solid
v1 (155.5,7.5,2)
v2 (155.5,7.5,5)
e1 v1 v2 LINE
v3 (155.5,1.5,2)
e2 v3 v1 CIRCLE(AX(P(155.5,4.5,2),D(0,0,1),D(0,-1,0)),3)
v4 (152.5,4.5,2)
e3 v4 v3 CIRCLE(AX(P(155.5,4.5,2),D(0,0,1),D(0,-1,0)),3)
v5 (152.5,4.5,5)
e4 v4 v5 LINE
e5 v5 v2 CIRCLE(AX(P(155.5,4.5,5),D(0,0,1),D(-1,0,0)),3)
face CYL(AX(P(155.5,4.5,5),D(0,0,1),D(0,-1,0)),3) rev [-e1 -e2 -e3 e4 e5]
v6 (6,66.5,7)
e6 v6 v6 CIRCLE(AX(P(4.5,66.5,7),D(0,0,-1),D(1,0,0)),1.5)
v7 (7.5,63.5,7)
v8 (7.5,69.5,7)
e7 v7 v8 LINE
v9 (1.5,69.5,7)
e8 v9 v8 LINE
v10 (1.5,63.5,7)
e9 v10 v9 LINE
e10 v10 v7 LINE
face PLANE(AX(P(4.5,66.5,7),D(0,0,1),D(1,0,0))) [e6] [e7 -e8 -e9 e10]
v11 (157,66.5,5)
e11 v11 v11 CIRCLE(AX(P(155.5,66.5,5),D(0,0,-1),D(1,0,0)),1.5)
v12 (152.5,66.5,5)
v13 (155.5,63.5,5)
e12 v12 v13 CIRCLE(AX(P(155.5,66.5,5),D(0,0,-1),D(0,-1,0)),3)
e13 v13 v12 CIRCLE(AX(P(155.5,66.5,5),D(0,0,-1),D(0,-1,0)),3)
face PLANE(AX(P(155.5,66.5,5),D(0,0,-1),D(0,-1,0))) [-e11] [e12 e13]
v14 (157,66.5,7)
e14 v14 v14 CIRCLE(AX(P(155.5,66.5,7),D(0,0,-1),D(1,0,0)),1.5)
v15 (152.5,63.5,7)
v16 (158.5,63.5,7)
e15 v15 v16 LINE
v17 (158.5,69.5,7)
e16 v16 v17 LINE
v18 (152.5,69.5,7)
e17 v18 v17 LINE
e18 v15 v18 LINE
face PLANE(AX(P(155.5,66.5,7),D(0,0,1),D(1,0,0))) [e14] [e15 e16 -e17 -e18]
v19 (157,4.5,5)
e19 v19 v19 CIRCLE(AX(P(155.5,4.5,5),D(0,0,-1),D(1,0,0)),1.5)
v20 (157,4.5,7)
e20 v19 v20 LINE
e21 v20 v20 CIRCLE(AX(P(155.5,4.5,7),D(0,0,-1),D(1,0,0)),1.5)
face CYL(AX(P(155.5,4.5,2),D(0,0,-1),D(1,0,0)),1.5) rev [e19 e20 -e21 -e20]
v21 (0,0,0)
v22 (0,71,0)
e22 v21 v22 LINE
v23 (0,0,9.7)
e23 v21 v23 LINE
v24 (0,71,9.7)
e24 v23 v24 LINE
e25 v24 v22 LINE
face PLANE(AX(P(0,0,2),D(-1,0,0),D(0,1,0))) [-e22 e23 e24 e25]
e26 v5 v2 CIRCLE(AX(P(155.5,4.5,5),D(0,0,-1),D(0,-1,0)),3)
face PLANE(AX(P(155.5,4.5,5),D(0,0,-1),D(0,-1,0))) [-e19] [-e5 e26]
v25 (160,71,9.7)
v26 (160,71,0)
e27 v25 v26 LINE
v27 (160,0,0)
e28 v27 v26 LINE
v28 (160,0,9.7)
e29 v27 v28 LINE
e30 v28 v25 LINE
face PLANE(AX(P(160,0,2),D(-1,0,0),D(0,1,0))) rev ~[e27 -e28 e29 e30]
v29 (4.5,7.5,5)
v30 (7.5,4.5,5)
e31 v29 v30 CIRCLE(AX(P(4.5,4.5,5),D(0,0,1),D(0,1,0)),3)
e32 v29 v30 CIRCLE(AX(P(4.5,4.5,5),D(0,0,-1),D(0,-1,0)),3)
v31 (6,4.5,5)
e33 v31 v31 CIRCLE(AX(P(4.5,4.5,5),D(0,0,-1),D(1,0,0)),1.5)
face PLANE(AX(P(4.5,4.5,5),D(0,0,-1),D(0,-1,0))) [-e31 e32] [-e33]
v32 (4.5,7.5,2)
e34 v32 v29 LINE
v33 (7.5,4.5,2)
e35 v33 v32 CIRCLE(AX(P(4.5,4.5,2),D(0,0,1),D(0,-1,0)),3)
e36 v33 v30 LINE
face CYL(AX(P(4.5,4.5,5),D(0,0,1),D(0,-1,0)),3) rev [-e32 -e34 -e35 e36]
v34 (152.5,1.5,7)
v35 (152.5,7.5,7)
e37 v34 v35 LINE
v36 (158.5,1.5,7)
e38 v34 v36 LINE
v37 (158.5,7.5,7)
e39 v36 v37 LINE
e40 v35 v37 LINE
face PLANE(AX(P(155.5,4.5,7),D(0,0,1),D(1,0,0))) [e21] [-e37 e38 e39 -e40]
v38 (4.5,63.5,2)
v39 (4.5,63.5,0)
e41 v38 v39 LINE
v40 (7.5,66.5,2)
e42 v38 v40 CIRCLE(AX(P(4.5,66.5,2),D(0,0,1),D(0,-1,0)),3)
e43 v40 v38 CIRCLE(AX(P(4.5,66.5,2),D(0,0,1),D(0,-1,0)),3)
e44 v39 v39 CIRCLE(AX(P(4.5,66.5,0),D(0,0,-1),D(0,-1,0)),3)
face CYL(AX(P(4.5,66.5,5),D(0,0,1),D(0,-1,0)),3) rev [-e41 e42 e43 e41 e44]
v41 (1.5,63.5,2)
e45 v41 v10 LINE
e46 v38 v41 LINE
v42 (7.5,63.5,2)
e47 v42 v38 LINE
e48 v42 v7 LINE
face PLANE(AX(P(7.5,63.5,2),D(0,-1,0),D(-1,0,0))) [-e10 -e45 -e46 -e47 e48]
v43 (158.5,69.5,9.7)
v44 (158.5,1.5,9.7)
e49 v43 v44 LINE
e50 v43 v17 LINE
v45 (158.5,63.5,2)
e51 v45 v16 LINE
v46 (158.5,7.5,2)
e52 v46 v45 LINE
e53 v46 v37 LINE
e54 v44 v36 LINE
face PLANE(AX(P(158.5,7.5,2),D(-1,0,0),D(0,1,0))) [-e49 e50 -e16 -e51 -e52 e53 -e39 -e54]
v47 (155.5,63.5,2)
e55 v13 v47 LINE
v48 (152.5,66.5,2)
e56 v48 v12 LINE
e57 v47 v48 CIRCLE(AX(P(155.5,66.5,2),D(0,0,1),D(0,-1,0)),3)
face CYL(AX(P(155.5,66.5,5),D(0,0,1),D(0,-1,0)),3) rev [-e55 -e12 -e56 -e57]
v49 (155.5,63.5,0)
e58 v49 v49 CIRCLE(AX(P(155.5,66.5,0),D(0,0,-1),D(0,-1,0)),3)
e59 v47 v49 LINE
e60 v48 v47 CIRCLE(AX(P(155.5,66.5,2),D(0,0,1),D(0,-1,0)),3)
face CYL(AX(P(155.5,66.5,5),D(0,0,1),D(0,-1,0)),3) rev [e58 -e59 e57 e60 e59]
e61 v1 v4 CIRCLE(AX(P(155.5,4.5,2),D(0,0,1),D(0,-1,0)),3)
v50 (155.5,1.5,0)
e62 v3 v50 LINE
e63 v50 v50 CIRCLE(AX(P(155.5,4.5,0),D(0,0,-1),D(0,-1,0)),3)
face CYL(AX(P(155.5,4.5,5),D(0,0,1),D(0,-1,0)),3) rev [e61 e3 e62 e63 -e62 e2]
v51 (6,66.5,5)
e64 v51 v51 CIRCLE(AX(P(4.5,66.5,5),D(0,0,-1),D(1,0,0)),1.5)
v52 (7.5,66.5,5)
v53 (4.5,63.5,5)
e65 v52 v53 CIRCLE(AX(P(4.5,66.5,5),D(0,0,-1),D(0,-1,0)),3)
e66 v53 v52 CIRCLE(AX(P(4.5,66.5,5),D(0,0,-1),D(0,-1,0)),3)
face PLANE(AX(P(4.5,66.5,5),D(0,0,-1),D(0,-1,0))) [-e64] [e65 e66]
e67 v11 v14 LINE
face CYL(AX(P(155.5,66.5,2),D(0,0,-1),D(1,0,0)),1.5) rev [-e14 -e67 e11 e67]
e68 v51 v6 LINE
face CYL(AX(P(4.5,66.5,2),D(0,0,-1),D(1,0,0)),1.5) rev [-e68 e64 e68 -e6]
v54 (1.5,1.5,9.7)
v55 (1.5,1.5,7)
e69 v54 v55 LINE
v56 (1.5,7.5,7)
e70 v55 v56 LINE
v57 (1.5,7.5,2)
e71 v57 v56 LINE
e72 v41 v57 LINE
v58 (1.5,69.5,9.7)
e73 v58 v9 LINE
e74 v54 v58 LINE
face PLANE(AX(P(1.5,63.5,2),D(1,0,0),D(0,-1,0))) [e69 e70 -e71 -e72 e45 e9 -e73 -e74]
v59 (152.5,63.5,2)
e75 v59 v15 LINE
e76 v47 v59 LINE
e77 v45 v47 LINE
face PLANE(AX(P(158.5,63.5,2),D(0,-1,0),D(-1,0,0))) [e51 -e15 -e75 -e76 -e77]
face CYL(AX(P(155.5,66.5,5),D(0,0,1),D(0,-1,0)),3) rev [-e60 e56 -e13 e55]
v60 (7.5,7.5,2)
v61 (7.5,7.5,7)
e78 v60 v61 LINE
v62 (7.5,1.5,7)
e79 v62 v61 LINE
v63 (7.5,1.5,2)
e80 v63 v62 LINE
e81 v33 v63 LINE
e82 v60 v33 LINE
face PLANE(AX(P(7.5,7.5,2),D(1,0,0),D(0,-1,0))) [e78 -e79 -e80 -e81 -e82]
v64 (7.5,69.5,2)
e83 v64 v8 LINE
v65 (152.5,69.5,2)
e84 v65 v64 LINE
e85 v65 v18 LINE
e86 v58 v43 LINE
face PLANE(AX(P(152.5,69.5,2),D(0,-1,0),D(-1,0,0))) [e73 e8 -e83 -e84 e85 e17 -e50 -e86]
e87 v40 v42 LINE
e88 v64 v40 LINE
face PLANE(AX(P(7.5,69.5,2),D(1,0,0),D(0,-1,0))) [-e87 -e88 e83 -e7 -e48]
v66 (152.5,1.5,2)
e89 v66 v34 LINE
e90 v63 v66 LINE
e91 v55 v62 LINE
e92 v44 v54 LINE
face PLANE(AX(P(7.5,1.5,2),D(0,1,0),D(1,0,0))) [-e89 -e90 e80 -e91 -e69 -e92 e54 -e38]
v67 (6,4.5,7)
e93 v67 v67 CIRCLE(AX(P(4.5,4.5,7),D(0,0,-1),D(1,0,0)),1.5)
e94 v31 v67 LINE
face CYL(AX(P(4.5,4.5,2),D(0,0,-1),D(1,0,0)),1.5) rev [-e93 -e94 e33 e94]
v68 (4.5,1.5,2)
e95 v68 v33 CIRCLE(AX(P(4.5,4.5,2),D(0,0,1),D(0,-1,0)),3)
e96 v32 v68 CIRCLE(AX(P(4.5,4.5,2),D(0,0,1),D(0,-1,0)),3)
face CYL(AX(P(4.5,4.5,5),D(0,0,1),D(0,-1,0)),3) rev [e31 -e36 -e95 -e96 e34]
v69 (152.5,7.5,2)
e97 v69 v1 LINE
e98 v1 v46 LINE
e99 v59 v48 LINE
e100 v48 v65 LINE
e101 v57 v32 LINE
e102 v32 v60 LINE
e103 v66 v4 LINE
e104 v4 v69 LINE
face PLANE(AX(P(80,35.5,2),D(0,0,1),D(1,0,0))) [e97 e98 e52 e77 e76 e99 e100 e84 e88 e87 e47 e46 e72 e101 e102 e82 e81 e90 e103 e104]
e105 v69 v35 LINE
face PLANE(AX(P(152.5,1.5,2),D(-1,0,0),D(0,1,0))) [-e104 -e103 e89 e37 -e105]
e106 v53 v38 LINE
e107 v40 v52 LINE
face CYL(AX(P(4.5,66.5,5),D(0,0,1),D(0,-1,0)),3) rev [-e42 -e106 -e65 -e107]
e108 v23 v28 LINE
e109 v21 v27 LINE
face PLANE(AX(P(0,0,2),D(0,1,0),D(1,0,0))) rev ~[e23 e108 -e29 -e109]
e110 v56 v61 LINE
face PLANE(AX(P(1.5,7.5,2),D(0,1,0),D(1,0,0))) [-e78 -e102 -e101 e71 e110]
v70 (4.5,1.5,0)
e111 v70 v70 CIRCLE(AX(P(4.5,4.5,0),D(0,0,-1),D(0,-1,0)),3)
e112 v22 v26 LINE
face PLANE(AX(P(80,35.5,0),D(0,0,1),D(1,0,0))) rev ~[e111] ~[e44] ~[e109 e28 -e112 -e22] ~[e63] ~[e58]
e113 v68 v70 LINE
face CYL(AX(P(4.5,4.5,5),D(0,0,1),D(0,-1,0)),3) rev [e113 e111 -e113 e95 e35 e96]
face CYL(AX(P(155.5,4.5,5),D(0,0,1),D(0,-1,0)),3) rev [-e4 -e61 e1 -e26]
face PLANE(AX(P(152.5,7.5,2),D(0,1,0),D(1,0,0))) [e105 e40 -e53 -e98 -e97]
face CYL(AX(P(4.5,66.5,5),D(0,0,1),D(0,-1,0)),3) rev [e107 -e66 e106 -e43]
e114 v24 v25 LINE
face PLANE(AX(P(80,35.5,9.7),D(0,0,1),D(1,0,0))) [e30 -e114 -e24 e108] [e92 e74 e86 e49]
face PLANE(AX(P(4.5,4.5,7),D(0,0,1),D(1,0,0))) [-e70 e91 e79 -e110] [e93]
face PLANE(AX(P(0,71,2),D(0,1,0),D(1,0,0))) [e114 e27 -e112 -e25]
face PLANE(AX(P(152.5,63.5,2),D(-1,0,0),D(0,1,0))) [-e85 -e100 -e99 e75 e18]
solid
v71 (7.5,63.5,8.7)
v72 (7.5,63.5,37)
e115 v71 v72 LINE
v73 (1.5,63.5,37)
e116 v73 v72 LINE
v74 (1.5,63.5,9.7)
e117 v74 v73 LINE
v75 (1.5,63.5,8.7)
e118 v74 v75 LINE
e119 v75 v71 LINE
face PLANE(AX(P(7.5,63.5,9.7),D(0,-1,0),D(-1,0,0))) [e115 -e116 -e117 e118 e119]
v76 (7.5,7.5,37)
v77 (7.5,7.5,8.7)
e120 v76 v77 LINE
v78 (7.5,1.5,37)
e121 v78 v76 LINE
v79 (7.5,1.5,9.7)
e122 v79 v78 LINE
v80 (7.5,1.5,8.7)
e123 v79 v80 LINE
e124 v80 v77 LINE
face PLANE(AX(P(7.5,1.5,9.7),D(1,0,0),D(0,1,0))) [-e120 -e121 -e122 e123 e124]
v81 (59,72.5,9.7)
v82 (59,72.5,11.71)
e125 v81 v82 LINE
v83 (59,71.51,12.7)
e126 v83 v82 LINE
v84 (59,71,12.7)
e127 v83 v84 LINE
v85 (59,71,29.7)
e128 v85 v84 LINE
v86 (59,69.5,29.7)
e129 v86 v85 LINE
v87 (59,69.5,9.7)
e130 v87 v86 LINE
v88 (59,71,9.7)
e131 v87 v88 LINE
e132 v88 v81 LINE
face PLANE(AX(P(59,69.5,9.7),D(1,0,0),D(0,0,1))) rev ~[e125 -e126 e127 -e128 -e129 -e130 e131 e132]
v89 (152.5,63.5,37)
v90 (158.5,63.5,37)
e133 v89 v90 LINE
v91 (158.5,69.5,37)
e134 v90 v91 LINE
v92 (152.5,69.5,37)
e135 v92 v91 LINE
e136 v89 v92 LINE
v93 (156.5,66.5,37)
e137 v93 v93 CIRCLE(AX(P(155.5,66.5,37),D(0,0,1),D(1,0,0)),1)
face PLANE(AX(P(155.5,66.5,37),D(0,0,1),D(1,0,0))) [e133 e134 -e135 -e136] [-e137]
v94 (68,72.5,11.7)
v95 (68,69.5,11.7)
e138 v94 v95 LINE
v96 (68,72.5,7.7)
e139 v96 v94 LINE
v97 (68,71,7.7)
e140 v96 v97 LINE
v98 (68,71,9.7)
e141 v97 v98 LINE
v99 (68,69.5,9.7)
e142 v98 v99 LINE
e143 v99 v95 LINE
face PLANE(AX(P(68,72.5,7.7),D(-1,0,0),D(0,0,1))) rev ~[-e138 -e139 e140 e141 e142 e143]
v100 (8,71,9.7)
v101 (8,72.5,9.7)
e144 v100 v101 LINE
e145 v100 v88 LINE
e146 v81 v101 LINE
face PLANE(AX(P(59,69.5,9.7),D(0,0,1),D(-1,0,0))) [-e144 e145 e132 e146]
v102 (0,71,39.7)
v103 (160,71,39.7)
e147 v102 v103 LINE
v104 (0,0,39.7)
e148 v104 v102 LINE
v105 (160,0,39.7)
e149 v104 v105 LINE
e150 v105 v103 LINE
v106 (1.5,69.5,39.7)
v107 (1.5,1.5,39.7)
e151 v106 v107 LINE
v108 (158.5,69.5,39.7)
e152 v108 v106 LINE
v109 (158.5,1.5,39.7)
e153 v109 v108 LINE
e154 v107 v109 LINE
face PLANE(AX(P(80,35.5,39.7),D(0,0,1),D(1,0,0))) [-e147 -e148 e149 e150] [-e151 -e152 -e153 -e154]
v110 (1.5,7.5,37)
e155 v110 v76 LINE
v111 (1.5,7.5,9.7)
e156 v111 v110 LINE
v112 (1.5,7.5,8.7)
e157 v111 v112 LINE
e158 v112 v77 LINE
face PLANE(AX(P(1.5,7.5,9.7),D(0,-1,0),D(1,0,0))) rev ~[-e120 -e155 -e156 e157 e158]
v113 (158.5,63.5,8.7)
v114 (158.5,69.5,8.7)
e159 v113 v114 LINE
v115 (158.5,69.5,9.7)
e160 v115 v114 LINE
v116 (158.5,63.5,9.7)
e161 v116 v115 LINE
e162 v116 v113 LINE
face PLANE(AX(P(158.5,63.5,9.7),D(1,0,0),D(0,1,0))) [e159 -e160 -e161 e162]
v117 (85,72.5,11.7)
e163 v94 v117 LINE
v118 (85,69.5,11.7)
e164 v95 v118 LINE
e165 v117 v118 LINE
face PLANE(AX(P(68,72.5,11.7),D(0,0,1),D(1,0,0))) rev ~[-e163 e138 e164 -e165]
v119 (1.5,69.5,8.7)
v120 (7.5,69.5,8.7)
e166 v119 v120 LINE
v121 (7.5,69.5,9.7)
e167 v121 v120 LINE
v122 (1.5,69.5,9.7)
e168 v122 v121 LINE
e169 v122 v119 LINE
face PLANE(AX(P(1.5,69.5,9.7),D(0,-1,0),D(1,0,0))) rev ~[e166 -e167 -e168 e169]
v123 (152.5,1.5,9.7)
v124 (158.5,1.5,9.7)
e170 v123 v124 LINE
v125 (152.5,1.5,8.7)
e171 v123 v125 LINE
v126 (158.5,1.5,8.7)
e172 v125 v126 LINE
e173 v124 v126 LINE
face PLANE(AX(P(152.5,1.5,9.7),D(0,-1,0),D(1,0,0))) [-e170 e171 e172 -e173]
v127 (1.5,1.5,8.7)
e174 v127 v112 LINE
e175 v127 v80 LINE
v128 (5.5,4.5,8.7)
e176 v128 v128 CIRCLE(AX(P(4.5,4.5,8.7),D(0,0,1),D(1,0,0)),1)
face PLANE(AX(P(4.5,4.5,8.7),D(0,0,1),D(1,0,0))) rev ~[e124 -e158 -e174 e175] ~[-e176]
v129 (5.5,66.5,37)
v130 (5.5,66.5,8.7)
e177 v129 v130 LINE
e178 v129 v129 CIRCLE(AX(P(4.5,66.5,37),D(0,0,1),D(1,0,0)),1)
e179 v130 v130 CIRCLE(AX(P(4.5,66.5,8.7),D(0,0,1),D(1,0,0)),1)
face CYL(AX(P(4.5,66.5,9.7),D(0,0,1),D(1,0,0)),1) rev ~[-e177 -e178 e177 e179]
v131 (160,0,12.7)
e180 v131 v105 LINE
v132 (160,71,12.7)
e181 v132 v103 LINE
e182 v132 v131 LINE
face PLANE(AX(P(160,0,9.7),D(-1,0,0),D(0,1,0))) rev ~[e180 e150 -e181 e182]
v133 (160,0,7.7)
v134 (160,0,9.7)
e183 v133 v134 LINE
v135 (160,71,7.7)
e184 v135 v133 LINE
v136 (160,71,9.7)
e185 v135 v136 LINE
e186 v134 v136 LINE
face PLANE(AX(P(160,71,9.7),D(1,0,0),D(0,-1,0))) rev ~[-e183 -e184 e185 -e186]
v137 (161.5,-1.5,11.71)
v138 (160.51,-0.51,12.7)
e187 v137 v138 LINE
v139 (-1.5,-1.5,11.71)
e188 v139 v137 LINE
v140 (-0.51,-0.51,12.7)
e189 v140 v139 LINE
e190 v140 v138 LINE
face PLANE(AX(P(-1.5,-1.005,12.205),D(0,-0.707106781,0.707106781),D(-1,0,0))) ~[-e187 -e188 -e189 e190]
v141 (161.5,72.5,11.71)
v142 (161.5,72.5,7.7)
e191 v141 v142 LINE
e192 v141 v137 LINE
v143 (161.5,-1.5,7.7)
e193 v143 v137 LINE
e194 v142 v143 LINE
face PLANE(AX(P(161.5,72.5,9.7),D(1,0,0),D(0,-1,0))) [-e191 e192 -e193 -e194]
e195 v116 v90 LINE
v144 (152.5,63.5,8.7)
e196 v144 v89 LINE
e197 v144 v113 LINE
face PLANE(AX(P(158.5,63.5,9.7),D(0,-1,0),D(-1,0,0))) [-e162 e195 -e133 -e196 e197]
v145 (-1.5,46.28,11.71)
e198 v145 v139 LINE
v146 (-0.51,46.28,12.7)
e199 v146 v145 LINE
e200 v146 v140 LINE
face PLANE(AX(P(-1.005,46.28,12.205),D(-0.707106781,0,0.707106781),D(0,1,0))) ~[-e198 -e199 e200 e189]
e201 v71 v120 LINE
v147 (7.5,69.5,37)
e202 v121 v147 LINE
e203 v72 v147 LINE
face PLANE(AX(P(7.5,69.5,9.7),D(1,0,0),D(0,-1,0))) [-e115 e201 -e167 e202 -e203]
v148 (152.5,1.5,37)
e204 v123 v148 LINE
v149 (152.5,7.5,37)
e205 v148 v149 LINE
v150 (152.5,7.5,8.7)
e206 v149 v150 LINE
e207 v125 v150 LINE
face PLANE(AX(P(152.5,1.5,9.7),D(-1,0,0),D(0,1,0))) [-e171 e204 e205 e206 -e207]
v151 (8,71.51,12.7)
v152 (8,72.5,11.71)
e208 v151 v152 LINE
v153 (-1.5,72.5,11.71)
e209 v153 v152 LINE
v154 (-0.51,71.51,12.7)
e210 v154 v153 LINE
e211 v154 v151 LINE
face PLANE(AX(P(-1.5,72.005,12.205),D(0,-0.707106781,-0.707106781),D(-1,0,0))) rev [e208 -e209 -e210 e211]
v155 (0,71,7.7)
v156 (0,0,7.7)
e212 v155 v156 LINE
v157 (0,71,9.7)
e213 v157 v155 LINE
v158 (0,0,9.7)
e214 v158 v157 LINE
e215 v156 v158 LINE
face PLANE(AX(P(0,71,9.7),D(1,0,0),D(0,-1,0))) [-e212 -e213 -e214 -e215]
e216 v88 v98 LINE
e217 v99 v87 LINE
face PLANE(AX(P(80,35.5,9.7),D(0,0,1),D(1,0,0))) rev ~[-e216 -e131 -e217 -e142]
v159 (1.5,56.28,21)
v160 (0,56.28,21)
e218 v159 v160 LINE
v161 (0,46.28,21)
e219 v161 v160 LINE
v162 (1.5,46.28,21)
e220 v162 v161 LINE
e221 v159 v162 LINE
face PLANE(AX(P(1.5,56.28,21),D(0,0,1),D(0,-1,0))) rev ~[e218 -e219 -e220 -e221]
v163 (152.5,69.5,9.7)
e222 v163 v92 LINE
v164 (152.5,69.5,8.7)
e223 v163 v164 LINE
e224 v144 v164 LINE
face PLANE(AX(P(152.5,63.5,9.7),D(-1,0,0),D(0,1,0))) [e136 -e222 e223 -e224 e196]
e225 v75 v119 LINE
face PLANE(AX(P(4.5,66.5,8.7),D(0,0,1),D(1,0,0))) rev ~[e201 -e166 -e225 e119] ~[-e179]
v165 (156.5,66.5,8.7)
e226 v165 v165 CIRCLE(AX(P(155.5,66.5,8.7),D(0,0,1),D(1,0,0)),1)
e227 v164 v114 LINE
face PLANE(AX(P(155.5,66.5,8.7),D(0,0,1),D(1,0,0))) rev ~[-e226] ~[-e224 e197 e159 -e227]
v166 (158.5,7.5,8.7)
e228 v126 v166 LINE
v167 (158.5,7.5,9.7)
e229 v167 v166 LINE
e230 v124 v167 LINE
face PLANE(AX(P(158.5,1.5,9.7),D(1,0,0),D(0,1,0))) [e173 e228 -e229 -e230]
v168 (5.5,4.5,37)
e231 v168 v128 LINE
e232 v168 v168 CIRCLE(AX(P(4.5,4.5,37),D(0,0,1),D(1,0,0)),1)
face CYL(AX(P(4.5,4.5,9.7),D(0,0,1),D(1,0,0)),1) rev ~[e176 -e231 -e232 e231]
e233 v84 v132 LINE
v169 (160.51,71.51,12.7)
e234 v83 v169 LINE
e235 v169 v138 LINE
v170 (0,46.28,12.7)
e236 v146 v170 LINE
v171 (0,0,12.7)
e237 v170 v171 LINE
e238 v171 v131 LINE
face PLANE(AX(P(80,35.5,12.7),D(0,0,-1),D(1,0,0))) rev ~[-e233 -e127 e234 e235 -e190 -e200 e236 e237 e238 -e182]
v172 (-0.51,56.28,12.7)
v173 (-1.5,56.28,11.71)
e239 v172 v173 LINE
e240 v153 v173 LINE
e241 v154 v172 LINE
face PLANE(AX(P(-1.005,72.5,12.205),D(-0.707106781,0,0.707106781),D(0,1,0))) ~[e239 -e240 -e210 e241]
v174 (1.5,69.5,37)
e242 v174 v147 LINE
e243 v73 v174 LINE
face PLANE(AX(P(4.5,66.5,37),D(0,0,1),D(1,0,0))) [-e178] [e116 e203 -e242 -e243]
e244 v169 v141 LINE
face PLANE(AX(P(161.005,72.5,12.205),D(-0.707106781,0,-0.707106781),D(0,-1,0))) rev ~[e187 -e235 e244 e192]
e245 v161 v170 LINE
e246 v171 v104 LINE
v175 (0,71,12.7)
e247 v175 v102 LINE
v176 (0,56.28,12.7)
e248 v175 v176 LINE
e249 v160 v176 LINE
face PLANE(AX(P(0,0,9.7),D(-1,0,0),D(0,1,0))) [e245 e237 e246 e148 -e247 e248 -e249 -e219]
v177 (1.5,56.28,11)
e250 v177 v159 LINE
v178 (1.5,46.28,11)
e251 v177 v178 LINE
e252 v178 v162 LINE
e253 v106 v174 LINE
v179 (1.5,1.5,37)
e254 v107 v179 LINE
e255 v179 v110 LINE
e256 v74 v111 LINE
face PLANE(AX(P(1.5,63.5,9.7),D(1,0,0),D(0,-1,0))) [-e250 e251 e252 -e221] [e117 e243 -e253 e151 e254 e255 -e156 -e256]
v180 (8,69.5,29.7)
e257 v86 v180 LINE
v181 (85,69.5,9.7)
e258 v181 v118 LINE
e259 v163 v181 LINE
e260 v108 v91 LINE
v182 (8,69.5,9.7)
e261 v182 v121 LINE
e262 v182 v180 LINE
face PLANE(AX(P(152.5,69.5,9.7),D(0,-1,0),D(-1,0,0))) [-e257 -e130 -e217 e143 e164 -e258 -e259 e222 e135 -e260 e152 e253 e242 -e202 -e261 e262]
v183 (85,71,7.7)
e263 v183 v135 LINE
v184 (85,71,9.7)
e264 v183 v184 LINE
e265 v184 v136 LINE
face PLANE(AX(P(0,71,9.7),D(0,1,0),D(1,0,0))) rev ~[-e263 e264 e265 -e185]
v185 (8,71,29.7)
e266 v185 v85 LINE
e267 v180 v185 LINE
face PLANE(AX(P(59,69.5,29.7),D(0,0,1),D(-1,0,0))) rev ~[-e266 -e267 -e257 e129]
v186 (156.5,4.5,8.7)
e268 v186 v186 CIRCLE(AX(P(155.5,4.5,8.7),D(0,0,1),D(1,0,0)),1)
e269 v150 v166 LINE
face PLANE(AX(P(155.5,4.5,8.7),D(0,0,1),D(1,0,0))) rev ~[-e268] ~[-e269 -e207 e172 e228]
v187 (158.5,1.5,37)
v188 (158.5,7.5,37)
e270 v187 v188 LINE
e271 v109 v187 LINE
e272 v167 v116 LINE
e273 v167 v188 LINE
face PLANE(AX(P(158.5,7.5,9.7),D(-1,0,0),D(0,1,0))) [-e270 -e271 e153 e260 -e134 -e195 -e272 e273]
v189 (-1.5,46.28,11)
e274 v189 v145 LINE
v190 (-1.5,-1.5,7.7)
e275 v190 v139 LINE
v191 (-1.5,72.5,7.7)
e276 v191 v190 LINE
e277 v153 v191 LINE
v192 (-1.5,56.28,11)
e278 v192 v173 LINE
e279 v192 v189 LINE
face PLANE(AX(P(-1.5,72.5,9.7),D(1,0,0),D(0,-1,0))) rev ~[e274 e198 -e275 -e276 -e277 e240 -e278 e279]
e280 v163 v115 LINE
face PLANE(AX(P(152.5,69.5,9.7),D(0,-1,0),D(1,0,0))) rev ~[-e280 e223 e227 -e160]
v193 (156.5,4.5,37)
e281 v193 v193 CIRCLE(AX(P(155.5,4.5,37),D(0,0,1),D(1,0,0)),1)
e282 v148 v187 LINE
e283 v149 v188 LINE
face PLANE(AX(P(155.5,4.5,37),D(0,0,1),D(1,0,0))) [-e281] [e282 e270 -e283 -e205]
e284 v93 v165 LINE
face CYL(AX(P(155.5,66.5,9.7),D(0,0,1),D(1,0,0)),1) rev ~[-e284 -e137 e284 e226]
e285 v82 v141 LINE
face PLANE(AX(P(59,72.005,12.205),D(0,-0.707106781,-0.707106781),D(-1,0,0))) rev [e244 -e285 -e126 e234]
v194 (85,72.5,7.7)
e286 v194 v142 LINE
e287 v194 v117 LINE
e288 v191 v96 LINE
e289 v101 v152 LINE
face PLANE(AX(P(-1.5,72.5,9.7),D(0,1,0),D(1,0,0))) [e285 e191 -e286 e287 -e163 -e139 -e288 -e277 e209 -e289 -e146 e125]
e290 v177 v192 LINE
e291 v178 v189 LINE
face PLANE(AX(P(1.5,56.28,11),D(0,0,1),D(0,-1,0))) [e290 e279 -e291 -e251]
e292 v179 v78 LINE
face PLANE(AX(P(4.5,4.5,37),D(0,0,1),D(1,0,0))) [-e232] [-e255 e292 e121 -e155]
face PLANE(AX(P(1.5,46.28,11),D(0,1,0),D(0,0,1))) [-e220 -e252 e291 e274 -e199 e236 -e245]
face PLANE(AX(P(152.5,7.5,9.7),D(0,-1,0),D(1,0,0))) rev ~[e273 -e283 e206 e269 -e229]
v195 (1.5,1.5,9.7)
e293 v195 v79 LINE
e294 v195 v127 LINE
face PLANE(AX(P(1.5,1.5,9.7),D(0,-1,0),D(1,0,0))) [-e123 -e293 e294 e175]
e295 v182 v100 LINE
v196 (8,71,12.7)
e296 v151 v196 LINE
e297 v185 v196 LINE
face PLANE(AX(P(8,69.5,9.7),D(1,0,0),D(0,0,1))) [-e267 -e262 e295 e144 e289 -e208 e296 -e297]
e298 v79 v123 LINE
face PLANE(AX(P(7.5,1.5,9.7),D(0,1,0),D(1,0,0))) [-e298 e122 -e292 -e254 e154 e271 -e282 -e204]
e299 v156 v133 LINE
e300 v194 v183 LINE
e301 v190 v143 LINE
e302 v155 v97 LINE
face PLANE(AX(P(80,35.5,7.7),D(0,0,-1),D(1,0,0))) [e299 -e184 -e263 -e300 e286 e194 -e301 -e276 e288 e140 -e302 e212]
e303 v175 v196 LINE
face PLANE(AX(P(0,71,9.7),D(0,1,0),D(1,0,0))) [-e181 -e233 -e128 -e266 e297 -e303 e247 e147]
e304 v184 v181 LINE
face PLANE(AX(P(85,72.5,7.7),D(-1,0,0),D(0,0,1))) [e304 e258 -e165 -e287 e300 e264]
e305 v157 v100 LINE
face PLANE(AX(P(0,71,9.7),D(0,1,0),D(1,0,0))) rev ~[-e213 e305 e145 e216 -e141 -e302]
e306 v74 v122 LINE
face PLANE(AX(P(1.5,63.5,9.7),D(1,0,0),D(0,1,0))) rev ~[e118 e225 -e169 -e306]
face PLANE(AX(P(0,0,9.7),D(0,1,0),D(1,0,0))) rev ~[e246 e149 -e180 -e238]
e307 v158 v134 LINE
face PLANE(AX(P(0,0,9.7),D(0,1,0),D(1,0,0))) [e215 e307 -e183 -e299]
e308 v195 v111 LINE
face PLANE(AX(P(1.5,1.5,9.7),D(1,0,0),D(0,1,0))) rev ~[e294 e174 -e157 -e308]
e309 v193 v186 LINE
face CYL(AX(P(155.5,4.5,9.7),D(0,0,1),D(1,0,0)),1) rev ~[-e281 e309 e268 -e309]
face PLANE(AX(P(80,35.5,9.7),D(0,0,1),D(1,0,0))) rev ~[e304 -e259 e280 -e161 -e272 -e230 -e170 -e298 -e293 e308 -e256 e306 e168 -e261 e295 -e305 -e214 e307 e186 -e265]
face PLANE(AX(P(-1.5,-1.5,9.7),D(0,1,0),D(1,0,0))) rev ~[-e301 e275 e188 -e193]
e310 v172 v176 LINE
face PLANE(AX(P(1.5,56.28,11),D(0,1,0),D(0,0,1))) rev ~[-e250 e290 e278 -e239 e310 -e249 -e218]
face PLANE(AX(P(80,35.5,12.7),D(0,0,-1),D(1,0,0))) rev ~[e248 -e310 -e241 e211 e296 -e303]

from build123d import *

# Parameters (mm, degrees)
CYLINDER001_R         = 3
CYLINDER001_DEPTH     = 5
CYLINDER002_R         = 3
CYLINDER002_DEPTH     = 5
CYLINDER003_R         = 3
CYLINDER003_DEPTH     = 5
CYLINDER_R            = 3
CYLINDER_DEPTH        = 5
SKETCH002_W           = 6
SKETCH002_H           = 6
EXTRUDE001_DEPTH      = 2.7
SKETCH001_W           = 160
SKETCH001_H           = 71
SKETCH001_R           = 1.5
EXTRUDE_DEPTH         = 7.7
BOX_W                 = 160
BOX_H                 = 71
BOX_DEPTH             = 2
BOX002_W              = 51
BOX002_H              = 20
BOX002_DEPTH          = 3
BOX003_W              = 17
BOX003_H              = 4
BOX003_DEPTH          = 3
SKETCH004_W           = 6
SKETCH004_H           = 6
SKETCH004_R           = 1
EXTRUDE004_DEPTH      = 2.7
BOX001_W              = 10
BOX001_H              = 10
BOX001_DEPTH          = 3
SKETCH005_W           = 163
SKETCH005_H           = 74
SKETCH005_W_2         = 160
SKETCH005_H_2         = 71
EXTRUDE005_DEPTH      = 2
EXTRUDE005_DEPTH_BACK = 3
EXTRUDE003_DEPTH      = 1
SKETCH003_W           = 160
SKETCH003_H           = 71
SKETCH003_R           = 1
EXTRUDE002_DEPTH      = 30
CHAMFER_SIZE          = 0.99


with BuildPart() as case_bottom_left_top_screwhole:
    # Cylinder001 → Cylinder001 (new body)
    with BuildSketch(Plane(origin=(4.5, 66.5, 5), x_dir=(0, -1, 0), z_dir=(0, 0, -1))):
        Circle(CYLINDER001_R)
    extrude(amount=CYLINDER001_DEPTH)


with BuildPart() as case_bottom_right_top_screwhole:
    # Cylinder002 → Cylinder002 (new body)
    with BuildSketch(Plane(origin=(155.5, 66.5, 5), x_dir=(0, -1, 0), z_dir=(0, 0, -1))):
        Circle(CYLINDER002_R)
    extrude(amount=CYLINDER002_DEPTH)


with BuildPart() as case_bottom_right_bottom_screwhole:
    # Cylinder003 → Cylinder003 (new body)
    with BuildSketch(Plane(origin=(155.5, 4.5, 5), x_dir=(0, -1, 0), z_dir=(0, 0, -1))):
        Circle(CYLINDER003_R)
    extrude(amount=CYLINDER003_DEPTH)


with BuildPart() as case_bottom_screw_insets:
    # Cylinder → Cylinder (new body)
    with BuildSketch(Plane(origin=(4.5, 4.5, 5), x_dir=(0, -1, 0), z_dir=(0, 0, -1))):
        Circle(CYLINDER_R)
    extrude(amount=CYLINDER_DEPTH)

    # Fusion001: union case-bottom-left-top-screwhole, case-bottom-right-top-screwhole, case-bottom-right-bottom-screwhole
    add(case_bottom_left_top_screwhole.part)
    add(case_bottom_right_top_screwhole.part)
    add(case_bottom_right_bottom_screwhole.part)


with BuildPart() as mount_hole_removed:
    # Sketch002 (on Face22 of Extrude) → Extrude001 (new body)
    with BuildSketch(Plane.XY.offset(9.7)):
        with Locations((4.5, 66.5)):
            Rectangle(SKETCH002_W, SKETCH002_H)
        with Locations((155.5, 66.5)):
            Rectangle(SKETCH002_W, SKETCH002_H)
        with Locations((4.5, 4.5)):
            Rectangle(SKETCH002_W, SKETCH002_H)
        with Locations((155.5, 4.5)):
            Rectangle(SKETCH002_W, SKETCH002_H)
    extrude(amount=-EXTRUDE001_DEPTH)


with BuildPart() as case_bottom_wall_with_screw_insets:
    # Sketch001 (on Face6 of Box) → Extrude (new body)
    with BuildSketch(Plane.XY.offset(2)):
        with Locations((80, 35.5)):
            Rectangle(SKETCH001_W, SKETCH001_H)
        with Locations((4.5, 66.5)):
            Circle(SKETCH001_R, mode=Mode.SUBTRACT)
        with Locations((155.5, 66.5)):
            Circle(SKETCH001_R, mode=Mode.SUBTRACT)
        with Locations((155.5, 4.5)):
            Circle(SKETCH001_R, mode=Mode.SUBTRACT)
        with Locations((4.5, 4.5)):
            Circle(SKETCH001_R, mode=Mode.SUBTRACT)
        Polygon((152.5, 69.5), (7.5, 69.5), (7.5, 63.5), (1.5, 63.5), (1.5, 7.5), (7.5, 7.5), (7.5, 1.5), (152.5, 1.5), (152.5, 7.5), (158.5, 7.5), (158.5, 63.5), (152.5, 63.5), align=None, mode=Mode.SUBTRACT)
    extrude(amount=EXTRUDE_DEPTH)

    # Cut: cut mount-hole-removed
    add(mount_hole_removed.part, mode=Mode.SUBTRACT)

    # Cut002: cut case-bottom-screw-insets
    add(case_bottom_screw_insets.part, mode=Mode.SUBTRACT)


with BuildPart() as case_bottom:
    # Box → Box (new body)
    with BuildSketch(Plane.XY):
        with Locations((80, 35.5)):
            Rectangle(BOX_W, BOX_H)
    extrude(amount=BOX_DEPTH)

    # Cut001: cut case-bottom-screw-insets
    add(case_bottom_screw_insets.part, mode=Mode.SUBTRACT)

    # Fusion: union case-bottom-wall-with-screw-insets
    add(case_bottom_wall_with_screw_insets.part)


with BuildPart() as back_panel_cutout:
    # Box002 → Box002 (new body)
    with BuildSketch(Plane(origin=(59, 69.5, 9.7), x_dir=(-1, 0, 0), z_dir=(0, 1, 0))):
        with Locations((25.5, 10)):
            Rectangle(BOX002_W, BOX002_H)
    extrude(amount=BOX002_DEPTH)


with BuildPart() as ribbon_cable_cutout:
    # Box003 → Box003 (new body)
    with BuildSketch(Plane(origin=(68, 72.5, 7.7), x_dir=(1, 0, 0), z_dir=(0, -1, 0))):
        with Locations((8.5, 2)):
            Rectangle(BOX003_W, BOX003_H)
    extrude(amount=BOX003_DEPTH)


with BuildPart() as top_board_screw_backoff:
    # Sketch004 (on Face9 of Fusion) → Extrude004 (new body)
    with BuildSketch(Plane.XY.offset(9.7)):
        with Locations((155.5, 66.5)):
            Rectangle(SKETCH004_W, SKETCH004_H)
        with Locations((155.5, 66.5)):
            Circle(SKETCH004_R, mode=Mode.SUBTRACT)
        with Locations((155.5, 4.5)):
            Rectangle(SKETCH004_W, SKETCH004_H)
        with Locations((155.5, 4.5)):
            Circle(SKETCH004_R, mode=Mode.SUBTRACT)
        with Locations((4.5, 66.5)):
            Rectangle(SKETCH004_W, SKETCH004_H)
        with Locations((4.5, 66.5)):
            Circle(SKETCH004_R, mode=Mode.SUBTRACT)
        with Locations((4.5, 4.5)):
            Rectangle(SKETCH004_W, SKETCH004_H)
        with Locations((4.5, 4.5)):
            Circle(SKETCH004_R, mode=Mode.SUBTRACT)
    extrude(amount=-EXTRUDE004_DEPTH)


with BuildPart() as top_board_screw_backoff_1:
    # Extrude004 placement: moved
    add(top_board_screw_backoff.part.moved(Location((0, 0, 30))))


with BuildPart() as top_wall_cutouts:
    # Box001 → Box001 (new body)
    with BuildSketch(Plane(origin=(1.5, 56.28, 11), x_dir=(0, -1, 0), z_dir=(-1, 0, 0))):
        with Locations((5, 5)):
            Rectangle(BOX001_W, BOX001_H)
    extrude(amount=BOX001_DEPTH)

    # Fusion002: union back-panel-cutout, ribbon-cable-cutout, top-board-screw-backoff
    add(back_panel_cutout.part)
    add(ribbon_cable_cutout.part)
    add(top_board_screw_backoff_1.part)


with BuildPart() as top_wall_surround:
    # Sketch005 → Extrude005 (new body, two sides)
    with BuildSketch(Plane(origin=(0, 0, 9.7), x_dir=(1, 0, 0), z_dir=(0, 0, -1))) as extrude005_sk:
        with Locations((80, -35.5)):
            Rectangle(SKETCH005_W, SKETCH005_H)
        with Locations((80, -35.5)):
            Rectangle(SKETCH005_W_2, SKETCH005_H_2, mode=Mode.SUBTRACT)
    extrude(amount=EXTRUDE005_DEPTH)
    extrude(extrude005_sk.sketch, amount=-EXTRUDE005_DEPTH_BACK)


with BuildPart() as top_walls_protrusion:
    # Sketch004 (on Face9 of Fusion) → Extrude003 (new body)
    with BuildSketch(Plane.XY.offset(9.7)):
        with Locations((155.5, 66.5)):
            Rectangle(SKETCH004_W, SKETCH004_H)
        with Locations((155.5, 66.5)):
            Circle(SKETCH004_R, mode=Mode.SUBTRACT)
        with Locations((155.5, 4.5)):
            Rectangle(SKETCH004_W, SKETCH004_H)
        with Locations((155.5, 4.5)):
            Circle(SKETCH004_R, mode=Mode.SUBTRACT)
        with Locations((4.5, 66.5)):
            Rectangle(SKETCH004_W, SKETCH004_H)
        with Locations((4.5, 66.5)):
            Circle(SKETCH004_R, mode=Mode.SUBTRACT)
        with Locations((4.5, 4.5)):
            Rectangle(SKETCH004_W, SKETCH004_H)
        with Locations((4.5, 4.5)):
            Circle(SKETCH004_R, mode=Mode.SUBTRACT)
    extrude(amount=-EXTRUDE003_DEPTH)


with BuildPart() as top_wall:
    # Sketch003 (on Face9 of Fusion) → Extrude002 (new body)
    with BuildSketch(Plane.XY.offset(9.7)):
        with Locations((80, 35.5)):
            Rectangle(SKETCH003_W, SKETCH003_H)
        with Locations((4.5, 66.5)):
            Circle(SKETCH003_R, mode=Mode.SUBTRACT)
        with Locations((155.5, 66.5)):
            Circle(SKETCH003_R, mode=Mode.SUBTRACT)
        with Locations((155.5, 4.5)):
            Circle(SKETCH003_R, mode=Mode.SUBTRACT)
        with Locations((4.5, 4.5)):
            Circle(SKETCH003_R, mode=Mode.SUBTRACT)
        Polygon((152.5, 69.5), (7.5, 69.5), (7.5, 63.5), (1.5, 63.5), (1.5, 7.5), (7.5, 7.5), (7.5, 1.5), (152.5, 1.5), (152.5, 7.5), (158.5, 7.5), (158.5, 63.5), (152.5, 63.5), align=None, mode=Mode.SUBTRACT)
    extrude(amount=EXTRUDE002_DEPTH)

    # Fusion004: union top-wall-surround, top-walls-protrusion
    add(top_wall_surround.part)
    add(top_walls_protrusion.part)

    # Cut003: cut top-wall-cutouts
    add(top_wall_cutouts.part, mode=Mode.SUBTRACT)

    # Chamfer
    chamfer_edges = [top_wall.edges().sort_by_distance(p)[0] for p in [
        (110.25, 72.5, 12.7),
        (161.5, 35.5, 12.7),
        (80, -1.5, 12.7),
        (-1.5, 22.39, 12.7),
        (3.25, 72.5, 12.7),
        (-1.5, 64.39, 12.7),
    ]]
    chamfer(chamfer_edges, length=CHAMFER_SIZE)


solid = Compound([case_bottom.part, top_wall.part])
